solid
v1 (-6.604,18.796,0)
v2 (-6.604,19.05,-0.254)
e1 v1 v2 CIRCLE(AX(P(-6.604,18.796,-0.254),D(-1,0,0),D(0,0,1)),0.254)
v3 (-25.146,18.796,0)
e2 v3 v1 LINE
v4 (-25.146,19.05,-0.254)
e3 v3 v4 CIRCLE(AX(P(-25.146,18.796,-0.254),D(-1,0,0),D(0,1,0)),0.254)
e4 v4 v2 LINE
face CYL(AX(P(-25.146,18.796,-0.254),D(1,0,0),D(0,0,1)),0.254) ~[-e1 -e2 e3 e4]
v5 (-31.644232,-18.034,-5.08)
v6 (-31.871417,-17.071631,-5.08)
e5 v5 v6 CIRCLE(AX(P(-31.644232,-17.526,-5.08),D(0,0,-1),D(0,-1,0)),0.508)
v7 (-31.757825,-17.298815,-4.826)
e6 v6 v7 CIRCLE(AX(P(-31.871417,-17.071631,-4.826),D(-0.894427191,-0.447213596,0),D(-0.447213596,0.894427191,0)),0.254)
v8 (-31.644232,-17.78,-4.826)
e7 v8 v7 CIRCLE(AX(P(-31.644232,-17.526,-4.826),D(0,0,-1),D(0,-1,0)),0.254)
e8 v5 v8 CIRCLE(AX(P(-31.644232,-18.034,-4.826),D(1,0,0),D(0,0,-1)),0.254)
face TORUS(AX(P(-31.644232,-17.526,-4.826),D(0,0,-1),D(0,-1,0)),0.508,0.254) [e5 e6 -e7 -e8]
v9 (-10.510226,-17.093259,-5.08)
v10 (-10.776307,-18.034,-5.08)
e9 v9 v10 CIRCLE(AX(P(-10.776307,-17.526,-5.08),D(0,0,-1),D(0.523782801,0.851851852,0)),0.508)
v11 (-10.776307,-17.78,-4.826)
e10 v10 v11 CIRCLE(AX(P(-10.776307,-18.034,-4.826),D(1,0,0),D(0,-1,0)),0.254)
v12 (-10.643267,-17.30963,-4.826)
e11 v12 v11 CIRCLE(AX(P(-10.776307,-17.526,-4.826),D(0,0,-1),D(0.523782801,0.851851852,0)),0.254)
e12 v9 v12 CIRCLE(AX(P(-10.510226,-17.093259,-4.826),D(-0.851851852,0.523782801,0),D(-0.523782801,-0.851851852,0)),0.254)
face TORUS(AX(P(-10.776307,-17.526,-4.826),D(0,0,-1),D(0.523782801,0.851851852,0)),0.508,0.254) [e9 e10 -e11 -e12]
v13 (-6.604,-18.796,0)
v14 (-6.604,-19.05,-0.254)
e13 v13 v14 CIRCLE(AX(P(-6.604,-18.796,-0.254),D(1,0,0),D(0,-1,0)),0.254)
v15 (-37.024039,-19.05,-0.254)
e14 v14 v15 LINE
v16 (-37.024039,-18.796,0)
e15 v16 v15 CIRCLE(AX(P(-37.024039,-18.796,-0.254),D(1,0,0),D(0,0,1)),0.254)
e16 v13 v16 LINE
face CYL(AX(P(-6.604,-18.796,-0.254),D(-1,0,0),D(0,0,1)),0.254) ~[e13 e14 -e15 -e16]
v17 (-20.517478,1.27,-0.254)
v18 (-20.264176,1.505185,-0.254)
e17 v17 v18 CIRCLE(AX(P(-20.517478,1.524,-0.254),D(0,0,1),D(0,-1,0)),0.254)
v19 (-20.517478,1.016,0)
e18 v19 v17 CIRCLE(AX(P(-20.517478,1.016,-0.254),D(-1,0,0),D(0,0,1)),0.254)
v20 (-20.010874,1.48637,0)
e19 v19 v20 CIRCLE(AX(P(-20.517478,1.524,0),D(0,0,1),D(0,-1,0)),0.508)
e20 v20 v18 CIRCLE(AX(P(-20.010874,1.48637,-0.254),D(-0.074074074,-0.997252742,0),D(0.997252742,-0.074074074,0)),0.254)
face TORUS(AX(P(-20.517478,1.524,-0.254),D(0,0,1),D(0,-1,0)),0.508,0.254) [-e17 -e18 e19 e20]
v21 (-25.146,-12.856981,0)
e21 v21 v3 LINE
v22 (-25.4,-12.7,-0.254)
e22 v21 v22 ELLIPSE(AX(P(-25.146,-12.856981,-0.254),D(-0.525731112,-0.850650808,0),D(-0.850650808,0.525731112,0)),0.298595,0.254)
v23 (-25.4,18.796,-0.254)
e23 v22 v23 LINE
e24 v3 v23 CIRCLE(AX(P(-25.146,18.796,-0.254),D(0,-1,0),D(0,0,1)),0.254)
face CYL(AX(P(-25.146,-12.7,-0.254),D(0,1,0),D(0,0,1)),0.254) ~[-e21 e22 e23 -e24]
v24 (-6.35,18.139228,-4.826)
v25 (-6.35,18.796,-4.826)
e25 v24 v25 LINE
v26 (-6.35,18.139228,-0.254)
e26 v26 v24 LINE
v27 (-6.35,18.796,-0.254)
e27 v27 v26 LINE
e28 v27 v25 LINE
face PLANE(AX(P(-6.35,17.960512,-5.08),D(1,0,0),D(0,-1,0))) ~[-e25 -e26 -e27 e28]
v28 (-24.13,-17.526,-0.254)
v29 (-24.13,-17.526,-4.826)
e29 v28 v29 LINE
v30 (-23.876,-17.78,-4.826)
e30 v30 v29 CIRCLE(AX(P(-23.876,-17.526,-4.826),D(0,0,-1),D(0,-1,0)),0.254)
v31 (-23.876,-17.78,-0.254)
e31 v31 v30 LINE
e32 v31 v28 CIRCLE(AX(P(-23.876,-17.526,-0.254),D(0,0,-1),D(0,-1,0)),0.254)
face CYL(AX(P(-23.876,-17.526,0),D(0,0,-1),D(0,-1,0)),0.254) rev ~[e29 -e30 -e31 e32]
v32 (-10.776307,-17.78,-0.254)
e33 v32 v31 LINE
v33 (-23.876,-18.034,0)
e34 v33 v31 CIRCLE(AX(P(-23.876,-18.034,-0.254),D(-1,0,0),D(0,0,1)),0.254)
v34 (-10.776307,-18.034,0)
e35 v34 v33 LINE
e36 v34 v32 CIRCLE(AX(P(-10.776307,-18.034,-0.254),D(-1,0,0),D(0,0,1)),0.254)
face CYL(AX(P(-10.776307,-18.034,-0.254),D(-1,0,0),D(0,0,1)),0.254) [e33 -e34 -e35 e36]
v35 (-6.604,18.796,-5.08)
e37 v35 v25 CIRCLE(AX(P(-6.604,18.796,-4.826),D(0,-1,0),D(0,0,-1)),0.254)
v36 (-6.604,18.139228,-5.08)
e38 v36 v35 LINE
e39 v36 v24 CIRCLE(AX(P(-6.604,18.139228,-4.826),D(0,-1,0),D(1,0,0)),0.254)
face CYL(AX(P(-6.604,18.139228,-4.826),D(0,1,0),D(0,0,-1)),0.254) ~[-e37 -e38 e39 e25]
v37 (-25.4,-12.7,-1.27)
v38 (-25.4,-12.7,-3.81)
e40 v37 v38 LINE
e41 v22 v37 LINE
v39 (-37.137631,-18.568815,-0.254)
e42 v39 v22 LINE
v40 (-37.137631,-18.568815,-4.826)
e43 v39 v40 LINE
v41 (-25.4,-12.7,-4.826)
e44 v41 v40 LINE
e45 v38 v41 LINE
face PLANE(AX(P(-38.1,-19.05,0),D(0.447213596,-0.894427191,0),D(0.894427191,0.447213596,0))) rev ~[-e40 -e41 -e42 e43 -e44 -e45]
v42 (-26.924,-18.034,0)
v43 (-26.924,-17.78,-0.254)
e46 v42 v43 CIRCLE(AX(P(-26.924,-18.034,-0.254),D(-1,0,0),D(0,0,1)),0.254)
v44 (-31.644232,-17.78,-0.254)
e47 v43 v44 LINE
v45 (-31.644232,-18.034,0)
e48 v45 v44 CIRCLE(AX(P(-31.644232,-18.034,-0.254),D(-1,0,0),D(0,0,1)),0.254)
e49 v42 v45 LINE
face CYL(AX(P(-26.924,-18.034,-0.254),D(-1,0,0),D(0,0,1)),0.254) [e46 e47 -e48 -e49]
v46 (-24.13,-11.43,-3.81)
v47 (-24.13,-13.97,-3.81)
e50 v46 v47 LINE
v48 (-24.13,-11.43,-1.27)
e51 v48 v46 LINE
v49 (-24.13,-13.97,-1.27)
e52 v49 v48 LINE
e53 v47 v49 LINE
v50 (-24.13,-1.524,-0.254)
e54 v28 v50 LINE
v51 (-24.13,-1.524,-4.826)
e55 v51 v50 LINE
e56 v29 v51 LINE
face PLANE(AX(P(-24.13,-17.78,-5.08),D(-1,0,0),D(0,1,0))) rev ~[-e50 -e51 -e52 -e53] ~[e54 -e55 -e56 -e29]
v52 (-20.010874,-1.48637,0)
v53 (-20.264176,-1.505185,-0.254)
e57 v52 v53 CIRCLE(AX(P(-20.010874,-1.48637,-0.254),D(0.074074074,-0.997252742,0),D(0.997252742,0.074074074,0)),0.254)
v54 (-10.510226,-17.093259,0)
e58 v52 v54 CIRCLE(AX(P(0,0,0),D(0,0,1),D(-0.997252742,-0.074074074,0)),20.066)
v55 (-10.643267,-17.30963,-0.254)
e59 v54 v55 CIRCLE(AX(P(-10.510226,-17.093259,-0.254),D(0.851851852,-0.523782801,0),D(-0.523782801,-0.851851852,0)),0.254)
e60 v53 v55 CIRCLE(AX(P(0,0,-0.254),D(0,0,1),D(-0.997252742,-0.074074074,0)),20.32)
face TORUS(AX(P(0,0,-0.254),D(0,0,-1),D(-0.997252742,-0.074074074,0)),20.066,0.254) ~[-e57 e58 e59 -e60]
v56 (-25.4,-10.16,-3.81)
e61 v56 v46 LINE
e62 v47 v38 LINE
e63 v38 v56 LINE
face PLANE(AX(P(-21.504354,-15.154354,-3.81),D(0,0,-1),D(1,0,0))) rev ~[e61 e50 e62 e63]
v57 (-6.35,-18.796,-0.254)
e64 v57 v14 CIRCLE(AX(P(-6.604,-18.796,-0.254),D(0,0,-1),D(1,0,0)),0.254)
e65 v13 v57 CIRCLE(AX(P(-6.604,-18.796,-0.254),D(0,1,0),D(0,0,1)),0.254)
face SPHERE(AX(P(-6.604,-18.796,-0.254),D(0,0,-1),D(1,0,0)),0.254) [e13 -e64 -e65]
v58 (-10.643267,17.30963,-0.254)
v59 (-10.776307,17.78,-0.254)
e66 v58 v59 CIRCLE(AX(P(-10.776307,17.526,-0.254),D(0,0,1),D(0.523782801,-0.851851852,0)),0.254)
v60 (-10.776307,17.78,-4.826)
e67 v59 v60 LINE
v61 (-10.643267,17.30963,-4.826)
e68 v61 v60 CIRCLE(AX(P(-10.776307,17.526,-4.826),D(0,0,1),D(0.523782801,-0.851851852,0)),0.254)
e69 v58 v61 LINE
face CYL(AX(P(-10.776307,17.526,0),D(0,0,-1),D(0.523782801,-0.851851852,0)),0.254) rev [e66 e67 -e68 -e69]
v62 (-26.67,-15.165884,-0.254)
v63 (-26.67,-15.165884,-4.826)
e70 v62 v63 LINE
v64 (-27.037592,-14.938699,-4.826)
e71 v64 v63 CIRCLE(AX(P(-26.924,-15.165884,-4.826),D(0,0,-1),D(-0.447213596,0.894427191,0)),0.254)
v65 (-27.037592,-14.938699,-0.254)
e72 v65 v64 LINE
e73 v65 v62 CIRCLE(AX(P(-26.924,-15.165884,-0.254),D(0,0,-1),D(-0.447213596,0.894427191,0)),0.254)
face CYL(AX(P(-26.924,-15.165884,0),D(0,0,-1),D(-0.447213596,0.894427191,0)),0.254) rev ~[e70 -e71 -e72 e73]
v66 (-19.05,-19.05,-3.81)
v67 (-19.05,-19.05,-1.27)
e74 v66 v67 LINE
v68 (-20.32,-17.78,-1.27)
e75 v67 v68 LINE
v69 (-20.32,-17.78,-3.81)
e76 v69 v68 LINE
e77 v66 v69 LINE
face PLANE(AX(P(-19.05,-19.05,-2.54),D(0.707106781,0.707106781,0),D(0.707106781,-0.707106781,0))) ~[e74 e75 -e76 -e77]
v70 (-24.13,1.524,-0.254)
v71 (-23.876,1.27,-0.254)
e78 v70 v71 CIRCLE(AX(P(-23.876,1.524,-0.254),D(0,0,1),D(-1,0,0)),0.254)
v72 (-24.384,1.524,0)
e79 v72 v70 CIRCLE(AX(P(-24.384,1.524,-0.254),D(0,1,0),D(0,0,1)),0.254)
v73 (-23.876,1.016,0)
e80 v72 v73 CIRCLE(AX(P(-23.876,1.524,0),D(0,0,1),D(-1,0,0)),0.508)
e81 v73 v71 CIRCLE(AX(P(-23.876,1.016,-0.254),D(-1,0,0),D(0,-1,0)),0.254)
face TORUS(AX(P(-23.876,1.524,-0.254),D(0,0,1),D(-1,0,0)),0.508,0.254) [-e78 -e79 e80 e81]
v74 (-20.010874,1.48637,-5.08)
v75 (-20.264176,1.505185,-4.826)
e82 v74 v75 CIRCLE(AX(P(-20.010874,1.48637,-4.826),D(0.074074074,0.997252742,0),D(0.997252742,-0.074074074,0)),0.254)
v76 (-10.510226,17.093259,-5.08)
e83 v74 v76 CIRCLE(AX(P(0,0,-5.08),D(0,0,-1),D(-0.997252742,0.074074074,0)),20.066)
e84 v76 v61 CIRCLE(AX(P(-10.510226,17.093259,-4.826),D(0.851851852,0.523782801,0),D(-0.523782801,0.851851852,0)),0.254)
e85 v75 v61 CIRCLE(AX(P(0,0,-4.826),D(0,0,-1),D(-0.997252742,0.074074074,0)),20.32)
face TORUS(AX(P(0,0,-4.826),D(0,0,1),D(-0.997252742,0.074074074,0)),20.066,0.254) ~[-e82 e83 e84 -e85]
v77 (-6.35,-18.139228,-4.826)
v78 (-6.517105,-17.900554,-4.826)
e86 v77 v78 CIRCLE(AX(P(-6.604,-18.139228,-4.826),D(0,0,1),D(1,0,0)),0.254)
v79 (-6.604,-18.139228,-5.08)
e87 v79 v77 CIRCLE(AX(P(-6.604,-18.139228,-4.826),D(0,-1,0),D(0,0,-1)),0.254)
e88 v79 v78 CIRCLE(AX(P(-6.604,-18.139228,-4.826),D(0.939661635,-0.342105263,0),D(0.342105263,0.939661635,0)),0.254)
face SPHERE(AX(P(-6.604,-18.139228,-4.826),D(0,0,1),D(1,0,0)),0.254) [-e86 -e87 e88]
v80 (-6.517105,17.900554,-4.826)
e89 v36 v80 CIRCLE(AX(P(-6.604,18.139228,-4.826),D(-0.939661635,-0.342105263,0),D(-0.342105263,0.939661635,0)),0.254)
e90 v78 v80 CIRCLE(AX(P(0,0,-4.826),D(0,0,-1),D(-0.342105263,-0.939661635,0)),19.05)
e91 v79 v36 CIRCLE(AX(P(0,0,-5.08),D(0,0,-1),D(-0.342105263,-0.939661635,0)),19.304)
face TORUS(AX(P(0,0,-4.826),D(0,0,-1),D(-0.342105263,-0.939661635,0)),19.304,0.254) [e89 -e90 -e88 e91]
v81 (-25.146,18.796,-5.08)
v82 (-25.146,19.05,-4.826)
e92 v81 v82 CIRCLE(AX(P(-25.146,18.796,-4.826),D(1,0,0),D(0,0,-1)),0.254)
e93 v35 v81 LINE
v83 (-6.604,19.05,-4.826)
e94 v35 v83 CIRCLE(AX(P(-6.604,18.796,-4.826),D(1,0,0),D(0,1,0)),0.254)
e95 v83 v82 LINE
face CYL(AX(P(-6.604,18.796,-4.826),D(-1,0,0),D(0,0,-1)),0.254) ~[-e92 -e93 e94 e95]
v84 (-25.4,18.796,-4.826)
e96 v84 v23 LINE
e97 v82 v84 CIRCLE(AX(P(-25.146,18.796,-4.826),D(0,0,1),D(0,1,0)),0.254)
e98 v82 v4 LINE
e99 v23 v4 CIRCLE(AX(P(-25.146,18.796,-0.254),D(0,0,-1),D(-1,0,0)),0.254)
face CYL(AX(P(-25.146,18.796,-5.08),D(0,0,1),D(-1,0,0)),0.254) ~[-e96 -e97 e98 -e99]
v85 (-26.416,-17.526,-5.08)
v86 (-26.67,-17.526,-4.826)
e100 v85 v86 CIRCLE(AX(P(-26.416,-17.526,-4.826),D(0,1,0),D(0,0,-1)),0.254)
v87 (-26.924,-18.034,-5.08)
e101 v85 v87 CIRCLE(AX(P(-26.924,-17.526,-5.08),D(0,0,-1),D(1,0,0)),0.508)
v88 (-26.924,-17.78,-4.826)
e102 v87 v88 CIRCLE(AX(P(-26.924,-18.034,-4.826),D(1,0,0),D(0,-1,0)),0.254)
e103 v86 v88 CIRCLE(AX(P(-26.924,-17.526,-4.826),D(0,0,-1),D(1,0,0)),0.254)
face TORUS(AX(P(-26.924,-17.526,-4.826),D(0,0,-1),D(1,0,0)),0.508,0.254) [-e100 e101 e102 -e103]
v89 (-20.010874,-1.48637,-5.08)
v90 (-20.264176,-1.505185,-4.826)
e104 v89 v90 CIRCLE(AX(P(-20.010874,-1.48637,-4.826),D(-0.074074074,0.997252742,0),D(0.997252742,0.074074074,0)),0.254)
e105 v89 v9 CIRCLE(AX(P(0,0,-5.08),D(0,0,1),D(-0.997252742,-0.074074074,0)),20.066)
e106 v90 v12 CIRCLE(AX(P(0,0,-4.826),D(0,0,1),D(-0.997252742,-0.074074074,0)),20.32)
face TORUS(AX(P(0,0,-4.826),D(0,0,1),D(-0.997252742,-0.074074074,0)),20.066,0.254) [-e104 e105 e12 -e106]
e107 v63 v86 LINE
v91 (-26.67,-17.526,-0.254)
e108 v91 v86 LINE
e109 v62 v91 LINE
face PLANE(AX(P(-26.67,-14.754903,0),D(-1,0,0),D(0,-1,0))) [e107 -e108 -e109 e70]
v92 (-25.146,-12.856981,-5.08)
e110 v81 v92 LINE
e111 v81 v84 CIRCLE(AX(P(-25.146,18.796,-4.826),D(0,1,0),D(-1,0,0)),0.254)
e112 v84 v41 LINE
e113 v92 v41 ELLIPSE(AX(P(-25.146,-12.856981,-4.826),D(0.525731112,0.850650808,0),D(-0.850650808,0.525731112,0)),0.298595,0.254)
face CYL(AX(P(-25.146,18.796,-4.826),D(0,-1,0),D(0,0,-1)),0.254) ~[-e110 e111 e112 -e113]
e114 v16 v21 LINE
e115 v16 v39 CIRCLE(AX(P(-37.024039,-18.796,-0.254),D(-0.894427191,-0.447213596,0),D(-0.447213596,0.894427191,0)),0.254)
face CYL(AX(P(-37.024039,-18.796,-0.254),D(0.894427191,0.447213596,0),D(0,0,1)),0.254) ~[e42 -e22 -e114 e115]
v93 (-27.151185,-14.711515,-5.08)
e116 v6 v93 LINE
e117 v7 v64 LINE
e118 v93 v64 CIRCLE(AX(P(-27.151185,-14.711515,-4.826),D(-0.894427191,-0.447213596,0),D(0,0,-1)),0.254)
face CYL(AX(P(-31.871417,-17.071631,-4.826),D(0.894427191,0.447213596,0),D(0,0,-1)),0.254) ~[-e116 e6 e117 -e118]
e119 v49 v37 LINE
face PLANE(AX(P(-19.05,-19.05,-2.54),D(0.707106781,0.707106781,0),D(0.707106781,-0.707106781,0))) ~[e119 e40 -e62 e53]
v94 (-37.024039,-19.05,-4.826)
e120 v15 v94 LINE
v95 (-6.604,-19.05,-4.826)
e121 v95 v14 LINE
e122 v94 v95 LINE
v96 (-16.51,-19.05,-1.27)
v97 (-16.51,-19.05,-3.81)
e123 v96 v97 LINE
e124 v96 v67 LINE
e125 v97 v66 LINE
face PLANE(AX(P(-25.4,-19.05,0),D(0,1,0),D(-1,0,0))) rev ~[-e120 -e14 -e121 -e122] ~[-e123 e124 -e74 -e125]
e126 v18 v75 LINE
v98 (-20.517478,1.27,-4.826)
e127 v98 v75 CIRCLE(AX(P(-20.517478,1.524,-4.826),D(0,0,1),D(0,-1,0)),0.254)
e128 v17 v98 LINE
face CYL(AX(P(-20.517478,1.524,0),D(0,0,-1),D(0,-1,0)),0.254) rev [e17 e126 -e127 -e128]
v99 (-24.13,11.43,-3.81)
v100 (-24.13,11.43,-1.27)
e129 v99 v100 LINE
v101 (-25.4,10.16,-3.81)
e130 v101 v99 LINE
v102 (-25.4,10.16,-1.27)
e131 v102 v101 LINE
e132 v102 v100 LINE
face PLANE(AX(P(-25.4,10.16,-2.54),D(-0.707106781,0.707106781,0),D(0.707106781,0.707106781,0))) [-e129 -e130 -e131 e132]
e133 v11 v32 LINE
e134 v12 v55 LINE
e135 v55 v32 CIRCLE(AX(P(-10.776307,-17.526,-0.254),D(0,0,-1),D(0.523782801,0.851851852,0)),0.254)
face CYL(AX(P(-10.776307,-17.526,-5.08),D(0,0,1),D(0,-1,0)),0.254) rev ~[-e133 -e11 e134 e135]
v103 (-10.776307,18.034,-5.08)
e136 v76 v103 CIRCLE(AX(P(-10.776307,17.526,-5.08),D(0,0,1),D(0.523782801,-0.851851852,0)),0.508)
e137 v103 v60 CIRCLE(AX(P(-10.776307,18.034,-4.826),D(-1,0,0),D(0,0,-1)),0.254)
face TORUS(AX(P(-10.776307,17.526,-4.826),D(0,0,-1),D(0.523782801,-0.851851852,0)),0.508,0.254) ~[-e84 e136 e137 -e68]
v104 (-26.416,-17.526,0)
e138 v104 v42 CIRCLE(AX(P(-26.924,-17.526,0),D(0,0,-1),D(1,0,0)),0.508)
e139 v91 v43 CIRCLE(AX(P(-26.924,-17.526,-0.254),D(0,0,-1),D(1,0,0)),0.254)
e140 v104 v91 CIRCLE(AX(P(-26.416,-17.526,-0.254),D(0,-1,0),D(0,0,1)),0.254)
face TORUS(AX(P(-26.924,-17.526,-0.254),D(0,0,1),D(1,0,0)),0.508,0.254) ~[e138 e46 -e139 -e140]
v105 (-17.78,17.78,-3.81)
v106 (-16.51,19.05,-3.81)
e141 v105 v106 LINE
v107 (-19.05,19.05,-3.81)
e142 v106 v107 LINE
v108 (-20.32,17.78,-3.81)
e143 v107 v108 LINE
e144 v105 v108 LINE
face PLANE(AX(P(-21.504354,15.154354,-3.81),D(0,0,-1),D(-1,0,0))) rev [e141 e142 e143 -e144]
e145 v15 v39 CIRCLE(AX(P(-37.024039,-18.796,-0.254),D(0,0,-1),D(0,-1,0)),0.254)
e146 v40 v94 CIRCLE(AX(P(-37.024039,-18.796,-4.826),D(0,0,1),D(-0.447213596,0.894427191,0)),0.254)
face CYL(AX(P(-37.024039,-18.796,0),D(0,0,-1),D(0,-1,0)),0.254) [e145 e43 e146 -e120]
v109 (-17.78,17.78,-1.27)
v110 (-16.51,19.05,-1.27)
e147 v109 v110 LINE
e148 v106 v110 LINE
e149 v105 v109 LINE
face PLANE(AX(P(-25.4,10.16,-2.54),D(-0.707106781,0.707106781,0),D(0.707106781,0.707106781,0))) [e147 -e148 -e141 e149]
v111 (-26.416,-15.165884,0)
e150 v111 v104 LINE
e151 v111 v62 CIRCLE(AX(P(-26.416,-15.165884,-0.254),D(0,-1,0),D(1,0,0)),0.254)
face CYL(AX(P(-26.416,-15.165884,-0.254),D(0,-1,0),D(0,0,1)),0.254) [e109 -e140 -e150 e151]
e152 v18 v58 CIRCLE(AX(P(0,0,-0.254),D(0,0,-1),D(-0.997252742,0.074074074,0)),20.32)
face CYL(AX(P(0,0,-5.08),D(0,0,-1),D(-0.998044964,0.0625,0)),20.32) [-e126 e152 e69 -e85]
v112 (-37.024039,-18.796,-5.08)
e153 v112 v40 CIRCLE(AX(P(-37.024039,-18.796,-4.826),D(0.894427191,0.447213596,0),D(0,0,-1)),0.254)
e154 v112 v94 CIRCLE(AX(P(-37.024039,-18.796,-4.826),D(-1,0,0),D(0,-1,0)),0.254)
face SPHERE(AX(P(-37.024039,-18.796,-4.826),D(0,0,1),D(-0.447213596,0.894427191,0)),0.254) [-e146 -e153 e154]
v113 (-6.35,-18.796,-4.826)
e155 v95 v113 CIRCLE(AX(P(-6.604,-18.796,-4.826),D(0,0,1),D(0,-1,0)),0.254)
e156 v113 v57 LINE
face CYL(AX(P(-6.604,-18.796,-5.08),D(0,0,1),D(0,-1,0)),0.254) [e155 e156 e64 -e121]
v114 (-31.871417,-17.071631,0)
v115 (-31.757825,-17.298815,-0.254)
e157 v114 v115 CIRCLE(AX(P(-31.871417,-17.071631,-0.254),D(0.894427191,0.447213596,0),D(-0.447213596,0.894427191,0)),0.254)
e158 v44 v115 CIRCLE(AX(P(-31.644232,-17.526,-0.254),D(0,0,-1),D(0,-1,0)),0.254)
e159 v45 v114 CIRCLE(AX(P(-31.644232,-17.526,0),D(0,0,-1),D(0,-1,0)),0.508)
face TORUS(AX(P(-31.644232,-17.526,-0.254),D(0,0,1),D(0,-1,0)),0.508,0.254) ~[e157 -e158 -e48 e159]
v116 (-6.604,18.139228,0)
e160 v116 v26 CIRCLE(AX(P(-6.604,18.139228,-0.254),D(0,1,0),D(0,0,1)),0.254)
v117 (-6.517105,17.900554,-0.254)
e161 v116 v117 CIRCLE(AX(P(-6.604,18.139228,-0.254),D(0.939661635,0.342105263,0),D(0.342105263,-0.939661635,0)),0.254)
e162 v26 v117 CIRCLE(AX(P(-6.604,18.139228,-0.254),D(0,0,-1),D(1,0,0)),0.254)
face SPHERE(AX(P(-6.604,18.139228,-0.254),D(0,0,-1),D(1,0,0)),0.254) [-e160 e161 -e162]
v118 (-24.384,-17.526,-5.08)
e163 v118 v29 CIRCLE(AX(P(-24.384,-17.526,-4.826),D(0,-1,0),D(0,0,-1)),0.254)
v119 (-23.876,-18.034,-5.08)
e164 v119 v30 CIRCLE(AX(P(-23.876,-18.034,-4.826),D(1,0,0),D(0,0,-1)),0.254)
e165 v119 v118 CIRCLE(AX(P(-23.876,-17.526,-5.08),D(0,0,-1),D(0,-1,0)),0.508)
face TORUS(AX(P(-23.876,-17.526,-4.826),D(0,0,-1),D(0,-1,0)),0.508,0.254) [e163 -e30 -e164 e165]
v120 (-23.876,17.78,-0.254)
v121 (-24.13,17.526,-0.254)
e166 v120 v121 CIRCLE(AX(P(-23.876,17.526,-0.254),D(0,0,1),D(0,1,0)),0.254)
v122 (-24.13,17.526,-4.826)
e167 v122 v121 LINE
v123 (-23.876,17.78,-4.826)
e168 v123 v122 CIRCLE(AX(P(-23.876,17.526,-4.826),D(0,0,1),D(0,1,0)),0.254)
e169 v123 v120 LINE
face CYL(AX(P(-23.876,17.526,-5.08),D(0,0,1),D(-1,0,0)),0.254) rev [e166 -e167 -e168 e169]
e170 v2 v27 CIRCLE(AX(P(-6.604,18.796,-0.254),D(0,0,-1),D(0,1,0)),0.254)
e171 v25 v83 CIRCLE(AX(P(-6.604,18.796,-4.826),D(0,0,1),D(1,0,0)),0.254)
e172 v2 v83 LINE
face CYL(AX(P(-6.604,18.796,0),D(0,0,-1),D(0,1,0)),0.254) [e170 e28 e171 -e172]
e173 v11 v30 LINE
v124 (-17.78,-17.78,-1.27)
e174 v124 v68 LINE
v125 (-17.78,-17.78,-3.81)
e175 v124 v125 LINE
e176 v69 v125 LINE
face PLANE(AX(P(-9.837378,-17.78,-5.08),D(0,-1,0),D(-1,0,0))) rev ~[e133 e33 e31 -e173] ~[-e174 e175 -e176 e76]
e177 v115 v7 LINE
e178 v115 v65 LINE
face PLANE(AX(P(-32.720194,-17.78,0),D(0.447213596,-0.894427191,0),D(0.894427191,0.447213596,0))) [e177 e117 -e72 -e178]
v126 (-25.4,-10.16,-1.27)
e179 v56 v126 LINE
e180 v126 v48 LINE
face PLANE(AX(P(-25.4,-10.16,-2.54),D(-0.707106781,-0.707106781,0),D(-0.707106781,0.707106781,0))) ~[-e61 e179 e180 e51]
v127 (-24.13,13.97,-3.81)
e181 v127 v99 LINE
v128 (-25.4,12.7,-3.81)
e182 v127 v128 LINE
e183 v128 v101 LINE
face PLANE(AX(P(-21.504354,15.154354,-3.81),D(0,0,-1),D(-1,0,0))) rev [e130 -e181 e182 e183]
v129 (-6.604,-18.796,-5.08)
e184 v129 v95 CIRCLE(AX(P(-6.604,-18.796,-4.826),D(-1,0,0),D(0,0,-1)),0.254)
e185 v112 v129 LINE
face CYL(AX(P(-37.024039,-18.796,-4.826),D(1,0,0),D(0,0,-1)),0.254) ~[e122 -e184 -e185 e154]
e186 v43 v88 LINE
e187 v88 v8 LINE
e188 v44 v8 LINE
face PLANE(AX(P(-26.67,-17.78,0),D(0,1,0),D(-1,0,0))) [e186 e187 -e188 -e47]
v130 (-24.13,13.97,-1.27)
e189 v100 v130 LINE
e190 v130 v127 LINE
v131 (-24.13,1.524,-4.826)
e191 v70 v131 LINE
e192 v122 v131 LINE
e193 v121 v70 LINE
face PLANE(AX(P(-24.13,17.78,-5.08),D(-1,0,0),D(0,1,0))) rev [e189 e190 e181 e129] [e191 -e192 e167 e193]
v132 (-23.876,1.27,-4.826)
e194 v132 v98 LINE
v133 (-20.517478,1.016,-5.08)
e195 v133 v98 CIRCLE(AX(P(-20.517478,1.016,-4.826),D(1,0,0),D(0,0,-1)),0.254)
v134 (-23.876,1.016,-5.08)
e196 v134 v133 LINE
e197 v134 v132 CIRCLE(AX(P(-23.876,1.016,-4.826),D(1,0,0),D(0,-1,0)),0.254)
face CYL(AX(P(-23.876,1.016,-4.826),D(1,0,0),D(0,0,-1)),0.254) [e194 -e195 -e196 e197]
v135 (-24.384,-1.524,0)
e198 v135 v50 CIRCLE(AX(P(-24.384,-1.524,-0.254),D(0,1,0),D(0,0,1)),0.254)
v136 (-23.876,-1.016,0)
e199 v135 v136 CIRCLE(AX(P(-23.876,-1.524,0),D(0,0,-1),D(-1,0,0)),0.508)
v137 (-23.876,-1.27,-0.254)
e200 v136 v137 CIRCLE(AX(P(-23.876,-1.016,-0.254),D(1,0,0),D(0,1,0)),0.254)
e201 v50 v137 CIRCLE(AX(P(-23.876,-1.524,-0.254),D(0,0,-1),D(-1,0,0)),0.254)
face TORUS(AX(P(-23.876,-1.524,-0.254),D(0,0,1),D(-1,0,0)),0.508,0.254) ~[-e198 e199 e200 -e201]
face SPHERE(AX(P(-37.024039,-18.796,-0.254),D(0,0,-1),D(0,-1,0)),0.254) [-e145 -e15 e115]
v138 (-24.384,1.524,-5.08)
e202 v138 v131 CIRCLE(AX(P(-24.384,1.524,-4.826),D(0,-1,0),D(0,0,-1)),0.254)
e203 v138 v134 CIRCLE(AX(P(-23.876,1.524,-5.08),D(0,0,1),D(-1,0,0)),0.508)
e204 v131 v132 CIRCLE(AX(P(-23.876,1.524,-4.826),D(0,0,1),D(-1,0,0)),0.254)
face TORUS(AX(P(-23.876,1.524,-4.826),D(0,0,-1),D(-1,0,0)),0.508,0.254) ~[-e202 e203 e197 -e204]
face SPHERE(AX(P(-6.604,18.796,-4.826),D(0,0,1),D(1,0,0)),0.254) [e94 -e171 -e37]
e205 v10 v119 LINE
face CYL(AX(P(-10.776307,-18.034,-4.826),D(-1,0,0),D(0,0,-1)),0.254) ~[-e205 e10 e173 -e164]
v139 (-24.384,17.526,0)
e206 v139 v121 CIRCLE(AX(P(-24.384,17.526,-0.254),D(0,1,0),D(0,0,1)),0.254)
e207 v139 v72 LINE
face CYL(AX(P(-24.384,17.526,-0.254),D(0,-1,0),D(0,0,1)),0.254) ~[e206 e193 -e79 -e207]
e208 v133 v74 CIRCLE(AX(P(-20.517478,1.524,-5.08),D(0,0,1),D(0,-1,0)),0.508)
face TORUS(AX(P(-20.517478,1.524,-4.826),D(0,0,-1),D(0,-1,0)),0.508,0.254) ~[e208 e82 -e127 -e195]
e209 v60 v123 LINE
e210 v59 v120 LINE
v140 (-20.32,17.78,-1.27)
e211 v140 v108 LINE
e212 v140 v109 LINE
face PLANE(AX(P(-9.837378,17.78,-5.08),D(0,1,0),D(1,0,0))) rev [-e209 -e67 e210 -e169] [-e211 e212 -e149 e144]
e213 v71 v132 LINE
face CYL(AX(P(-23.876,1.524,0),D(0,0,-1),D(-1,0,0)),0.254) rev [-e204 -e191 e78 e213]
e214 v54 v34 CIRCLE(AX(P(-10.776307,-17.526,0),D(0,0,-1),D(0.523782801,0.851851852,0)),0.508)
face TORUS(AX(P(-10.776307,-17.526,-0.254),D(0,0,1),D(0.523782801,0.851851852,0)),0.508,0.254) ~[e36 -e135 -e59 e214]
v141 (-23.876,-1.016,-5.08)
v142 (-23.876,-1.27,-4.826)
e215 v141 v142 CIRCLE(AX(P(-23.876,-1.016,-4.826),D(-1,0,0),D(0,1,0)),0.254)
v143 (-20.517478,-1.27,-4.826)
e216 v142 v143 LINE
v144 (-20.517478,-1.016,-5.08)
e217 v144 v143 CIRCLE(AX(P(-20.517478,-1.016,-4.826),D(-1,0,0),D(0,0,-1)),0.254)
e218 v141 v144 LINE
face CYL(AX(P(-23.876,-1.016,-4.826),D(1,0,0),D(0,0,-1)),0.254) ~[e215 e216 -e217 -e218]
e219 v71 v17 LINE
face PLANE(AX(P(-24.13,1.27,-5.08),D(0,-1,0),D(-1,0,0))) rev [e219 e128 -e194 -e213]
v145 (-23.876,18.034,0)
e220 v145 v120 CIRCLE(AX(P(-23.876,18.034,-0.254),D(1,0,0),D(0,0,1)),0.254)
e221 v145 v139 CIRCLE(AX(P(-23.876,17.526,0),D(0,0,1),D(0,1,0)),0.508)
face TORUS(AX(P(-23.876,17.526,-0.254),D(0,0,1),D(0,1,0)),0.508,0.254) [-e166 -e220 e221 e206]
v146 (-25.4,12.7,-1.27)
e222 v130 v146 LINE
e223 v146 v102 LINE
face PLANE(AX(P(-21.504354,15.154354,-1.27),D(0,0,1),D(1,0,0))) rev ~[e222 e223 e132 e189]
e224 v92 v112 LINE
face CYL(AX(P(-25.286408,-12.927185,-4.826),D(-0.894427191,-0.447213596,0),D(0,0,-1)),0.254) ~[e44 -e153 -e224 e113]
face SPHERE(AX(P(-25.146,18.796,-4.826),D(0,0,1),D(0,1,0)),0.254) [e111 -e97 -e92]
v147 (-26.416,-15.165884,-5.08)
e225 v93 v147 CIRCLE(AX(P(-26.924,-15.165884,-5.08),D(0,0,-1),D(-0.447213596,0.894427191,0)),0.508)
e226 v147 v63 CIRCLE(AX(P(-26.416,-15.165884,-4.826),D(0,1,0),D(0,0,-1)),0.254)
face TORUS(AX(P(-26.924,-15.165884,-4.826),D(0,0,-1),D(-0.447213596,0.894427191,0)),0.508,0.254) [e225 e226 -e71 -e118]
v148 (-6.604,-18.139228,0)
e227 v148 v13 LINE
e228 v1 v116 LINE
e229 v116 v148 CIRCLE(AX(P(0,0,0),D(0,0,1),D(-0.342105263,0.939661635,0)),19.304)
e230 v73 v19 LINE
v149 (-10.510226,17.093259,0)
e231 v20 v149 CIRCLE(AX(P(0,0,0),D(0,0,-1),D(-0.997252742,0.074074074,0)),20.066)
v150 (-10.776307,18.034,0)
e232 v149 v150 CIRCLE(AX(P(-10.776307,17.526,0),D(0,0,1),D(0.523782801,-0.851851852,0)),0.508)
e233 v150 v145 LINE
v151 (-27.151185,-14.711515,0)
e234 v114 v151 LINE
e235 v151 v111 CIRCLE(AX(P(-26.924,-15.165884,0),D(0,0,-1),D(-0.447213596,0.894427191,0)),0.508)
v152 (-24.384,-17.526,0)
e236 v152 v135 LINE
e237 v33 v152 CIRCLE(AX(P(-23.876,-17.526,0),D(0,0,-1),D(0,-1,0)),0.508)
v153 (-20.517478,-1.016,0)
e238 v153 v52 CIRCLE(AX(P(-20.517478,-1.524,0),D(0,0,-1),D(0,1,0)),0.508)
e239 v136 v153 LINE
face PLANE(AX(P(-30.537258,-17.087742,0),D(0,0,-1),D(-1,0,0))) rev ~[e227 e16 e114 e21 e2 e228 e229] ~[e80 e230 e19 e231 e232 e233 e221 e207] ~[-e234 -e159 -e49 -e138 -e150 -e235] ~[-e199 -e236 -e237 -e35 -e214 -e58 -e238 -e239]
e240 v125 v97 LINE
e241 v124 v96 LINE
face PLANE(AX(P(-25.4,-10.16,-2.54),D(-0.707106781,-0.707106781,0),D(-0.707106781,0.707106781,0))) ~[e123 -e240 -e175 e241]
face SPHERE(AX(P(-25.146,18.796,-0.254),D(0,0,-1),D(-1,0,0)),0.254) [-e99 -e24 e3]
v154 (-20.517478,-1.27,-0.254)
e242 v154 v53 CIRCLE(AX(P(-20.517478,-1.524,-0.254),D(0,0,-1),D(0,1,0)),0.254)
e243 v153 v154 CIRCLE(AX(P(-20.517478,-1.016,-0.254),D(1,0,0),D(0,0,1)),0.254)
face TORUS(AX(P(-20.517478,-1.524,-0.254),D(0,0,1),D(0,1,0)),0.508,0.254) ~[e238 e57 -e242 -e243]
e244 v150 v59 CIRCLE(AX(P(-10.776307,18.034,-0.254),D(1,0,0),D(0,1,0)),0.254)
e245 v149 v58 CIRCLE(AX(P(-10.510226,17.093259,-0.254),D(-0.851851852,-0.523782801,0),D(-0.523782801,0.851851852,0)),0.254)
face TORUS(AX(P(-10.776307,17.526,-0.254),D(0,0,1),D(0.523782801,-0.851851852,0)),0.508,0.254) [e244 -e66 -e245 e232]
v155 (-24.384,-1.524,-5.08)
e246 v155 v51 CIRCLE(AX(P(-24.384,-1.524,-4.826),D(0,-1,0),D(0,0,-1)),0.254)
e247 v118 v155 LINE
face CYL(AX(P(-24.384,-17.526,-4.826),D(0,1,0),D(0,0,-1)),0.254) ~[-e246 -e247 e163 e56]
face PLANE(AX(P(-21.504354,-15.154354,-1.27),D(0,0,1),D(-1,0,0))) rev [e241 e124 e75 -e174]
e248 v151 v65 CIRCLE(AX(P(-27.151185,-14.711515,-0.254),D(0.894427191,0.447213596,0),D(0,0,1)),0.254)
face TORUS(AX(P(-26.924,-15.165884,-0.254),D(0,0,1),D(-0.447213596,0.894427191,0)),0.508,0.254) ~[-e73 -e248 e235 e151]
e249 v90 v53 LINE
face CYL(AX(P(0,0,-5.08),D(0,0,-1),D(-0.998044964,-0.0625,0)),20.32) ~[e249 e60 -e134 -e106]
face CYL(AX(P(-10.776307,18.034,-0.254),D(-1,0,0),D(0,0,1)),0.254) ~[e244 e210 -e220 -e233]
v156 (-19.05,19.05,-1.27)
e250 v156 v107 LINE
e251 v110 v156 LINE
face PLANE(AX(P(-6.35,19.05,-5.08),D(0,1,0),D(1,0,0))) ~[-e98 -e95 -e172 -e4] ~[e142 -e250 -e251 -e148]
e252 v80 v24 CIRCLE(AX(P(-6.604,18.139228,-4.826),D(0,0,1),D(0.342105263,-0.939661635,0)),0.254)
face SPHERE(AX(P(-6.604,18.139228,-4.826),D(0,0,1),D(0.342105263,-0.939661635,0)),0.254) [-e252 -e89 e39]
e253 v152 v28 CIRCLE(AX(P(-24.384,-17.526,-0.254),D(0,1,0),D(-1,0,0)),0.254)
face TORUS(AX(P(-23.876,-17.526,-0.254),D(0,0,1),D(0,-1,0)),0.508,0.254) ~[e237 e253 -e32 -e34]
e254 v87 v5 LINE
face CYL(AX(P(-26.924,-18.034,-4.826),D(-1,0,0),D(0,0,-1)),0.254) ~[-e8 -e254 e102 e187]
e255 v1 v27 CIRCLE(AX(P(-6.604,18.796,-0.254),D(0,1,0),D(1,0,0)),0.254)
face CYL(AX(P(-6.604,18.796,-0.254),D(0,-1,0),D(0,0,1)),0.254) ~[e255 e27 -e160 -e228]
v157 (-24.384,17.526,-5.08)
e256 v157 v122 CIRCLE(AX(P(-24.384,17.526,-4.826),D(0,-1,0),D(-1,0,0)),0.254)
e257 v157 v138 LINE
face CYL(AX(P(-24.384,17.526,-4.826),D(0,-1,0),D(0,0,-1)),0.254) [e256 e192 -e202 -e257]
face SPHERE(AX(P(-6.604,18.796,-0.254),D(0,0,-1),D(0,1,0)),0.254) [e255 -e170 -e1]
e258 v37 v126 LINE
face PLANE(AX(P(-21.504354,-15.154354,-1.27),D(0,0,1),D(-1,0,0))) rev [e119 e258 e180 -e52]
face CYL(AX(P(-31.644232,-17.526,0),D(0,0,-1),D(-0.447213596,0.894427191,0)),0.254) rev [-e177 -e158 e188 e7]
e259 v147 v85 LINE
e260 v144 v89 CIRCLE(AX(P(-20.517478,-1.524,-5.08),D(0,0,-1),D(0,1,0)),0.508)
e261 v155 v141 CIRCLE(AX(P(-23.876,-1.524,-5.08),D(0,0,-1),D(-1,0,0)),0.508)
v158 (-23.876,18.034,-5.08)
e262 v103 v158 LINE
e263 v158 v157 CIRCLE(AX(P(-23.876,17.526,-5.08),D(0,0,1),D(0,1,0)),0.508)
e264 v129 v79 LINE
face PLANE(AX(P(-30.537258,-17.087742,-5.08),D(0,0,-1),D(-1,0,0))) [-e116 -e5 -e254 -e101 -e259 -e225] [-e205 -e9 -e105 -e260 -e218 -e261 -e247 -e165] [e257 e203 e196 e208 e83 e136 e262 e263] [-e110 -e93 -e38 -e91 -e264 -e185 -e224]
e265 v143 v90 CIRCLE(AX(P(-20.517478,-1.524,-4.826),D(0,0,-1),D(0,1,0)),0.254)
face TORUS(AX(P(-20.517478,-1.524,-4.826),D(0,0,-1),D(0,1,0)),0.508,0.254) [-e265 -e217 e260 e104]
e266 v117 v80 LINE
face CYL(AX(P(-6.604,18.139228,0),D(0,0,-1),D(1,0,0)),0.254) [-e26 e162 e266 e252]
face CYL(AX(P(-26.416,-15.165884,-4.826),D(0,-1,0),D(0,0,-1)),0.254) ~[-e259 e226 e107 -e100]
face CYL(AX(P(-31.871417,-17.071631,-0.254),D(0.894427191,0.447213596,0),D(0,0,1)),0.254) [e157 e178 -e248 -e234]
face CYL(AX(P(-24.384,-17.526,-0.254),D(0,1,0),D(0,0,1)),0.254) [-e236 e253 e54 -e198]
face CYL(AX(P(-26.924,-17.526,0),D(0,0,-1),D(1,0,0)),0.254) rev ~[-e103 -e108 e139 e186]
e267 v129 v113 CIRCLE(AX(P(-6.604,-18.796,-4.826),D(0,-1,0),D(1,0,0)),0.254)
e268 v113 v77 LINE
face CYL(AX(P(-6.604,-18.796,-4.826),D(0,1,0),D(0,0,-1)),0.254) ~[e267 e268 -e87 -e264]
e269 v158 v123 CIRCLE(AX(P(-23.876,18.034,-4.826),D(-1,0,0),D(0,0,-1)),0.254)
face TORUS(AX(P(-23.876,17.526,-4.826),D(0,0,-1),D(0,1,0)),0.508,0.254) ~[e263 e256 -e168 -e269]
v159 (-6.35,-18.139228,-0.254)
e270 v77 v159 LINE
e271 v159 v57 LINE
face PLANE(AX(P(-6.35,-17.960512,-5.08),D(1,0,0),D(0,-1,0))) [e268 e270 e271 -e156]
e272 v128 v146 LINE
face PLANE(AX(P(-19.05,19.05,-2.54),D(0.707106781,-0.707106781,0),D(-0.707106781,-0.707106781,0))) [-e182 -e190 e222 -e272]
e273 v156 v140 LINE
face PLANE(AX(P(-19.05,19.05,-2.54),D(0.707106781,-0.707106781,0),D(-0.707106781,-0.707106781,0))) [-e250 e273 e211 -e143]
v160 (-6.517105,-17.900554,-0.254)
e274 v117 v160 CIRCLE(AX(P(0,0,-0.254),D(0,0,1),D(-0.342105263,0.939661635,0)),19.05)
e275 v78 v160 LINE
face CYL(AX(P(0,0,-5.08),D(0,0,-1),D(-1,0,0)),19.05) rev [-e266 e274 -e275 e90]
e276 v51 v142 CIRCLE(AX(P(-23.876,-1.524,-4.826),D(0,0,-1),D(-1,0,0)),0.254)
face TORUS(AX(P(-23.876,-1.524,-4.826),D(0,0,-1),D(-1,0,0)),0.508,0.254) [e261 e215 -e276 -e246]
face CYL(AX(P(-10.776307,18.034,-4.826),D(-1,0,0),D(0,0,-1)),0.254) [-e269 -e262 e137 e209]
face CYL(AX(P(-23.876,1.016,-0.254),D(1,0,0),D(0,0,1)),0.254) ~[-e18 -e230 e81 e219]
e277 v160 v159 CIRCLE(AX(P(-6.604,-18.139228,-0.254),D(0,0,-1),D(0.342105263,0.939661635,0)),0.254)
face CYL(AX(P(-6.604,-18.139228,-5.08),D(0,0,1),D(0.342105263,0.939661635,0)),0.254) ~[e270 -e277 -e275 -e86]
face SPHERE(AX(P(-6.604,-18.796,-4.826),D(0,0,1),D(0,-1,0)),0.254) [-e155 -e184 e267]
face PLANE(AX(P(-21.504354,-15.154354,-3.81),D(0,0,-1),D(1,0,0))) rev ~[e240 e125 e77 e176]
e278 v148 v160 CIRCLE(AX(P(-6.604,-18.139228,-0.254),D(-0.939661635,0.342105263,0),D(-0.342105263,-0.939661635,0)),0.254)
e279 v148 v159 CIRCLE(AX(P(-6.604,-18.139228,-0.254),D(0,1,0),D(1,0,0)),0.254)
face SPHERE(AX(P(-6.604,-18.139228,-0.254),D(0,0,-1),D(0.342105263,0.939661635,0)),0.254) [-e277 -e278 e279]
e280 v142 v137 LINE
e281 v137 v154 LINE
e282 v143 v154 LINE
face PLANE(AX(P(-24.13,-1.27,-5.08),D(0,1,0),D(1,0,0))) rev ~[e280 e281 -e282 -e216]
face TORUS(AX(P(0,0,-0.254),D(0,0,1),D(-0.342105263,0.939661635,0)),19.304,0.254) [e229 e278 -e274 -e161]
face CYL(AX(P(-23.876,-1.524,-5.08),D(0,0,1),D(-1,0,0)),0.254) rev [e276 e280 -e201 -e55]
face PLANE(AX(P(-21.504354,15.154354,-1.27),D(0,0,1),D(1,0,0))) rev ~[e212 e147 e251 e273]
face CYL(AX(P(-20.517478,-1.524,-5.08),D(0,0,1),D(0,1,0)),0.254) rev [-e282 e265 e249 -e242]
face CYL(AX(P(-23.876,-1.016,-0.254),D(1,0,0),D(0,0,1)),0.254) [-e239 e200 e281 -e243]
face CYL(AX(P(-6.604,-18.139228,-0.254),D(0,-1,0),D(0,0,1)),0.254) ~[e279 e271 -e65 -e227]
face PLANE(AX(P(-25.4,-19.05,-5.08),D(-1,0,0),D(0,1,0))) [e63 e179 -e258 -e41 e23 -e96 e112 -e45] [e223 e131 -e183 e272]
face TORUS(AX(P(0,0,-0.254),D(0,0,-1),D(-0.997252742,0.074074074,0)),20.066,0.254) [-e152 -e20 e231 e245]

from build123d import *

# Parameters (mm, degrees)
BOSS_EXTRUDE1_DEPTH  = 2.54
CUT_EXTRUDE2_DEPTH   = 1.27
MIRROR3_COPY_1_DEPTH = 2.54
MIRROR3_COPY_2_DEPTH = 1.27
BOSS_EXTRUDE2_START  = -5.08
BOSS_EXTRUDE2_DEPTH  = 5.08
FILLET1_R            = 0.254
FILLET2_R            = 0.254


with BuildPart() as part:
    # Sketch1 → Boss-Extrude1 (new body)
    with BuildSketch(Plane.XY):
        with BuildLine():
            Line((-6.35, 19.050000000000004), (-25.4, 19.05))
            Line((-25.4, 19.05), (-25.399999999999995, 0))
            Line((-25.399999999999995, 0), (-19.049999999999997, 0))
            ThreePointArc((-19.049999999999997, 0), (-15.554259866673185, 10.998522628062371), (-6.35, 17.960512242138304))
            Line((-6.35, 17.960512242138304), (-6.35, 19.050000000000004))
        make_face()
        with BuildLine():
            Line((-24.129999999999995, 17.78), (-24.129999999999992, 1.27))
            Line((-24.129999999999992, 1.27), (-20.280273666792567, 1.27))
            ThreePointArc((-20.280273666792567, 1.27), (-17.173038634830498, 10.862280793950196), (-9.837377699366836, 17.780000000000005))
            Line((-9.837377699366836, 17.780000000000005), (-24.129999999999995, 17.78))
        make_face(mode=Mode.SUBTRACT)
    boss_extrude1 = extrude(amount=-BOSS_EXTRUDE1_DEPTH)

    # Mirror1: Boss-Extrude1 across plane
    add(boss_extrude1.mirror(Plane.ZX))

    # Sketch2 → Cut-Extrude2 (cut)
    with BuildSketch(Plane(origin=(0, 0, -2.54), x_dir=(-1, 0, 0), z_dir=(0, 0, -1))):
        Polygon((25.400000000000002, 10.159999999999998), (16.50999999999999, 19.050000000000004), (19.049999999999994, 19.050000000000004), (25.4, 12.700000000000001), align=None)
    cut_extrude2 = extrude(amount=-CUT_EXTRUDE2_DEPTH, mode=Mode.SUBTRACT)

    # Mirror2: Cut-Extrude2 across plane
    add(cut_extrude2.mirror(Plane.ZX), mode=Mode.SUBTRACT)

    # Mirror3: Boss-Extrude1, Cut-Extrude2 across plane
    add(boss_extrude1.mirror(Plane(origin=(-2.602e-14, 1.735e-14, -2.54), x_dir=(1, 0, 0), z_dir=(0, 0, -1))))
    add(cut_extrude2.mirror(Plane(origin=(-2.602e-14, 1.735e-14, -2.54), x_dir=(1, 0, 0), z_dir=(0, 0, -1))), mode=Mode.SUBTRACT)

    # Mirror3 copy 1 sketch → Mirror3 copy 1 (add)
    with BuildSketch(Plane(origin=(0, 0, -5.08), x_dir=(1, 0, 0), z_dir=(0, 0, -1))):
        with BuildLine():
            Line((-6.35, 19.050000000000004), (-25.4, 19.05))
            Line((-25.4, 19.05), (-25.399999999999995, 0))
            Line((-25.399999999999995, 0), (-19.049999999999997, 0))
            ThreePointArc((-19.049999999999997, 0), (-15.554259866673185, 10.998522628062371), (-6.35, 17.960512242138304))
            Line((-6.35, 17.960512242138304), (-6.35, 19.050000000000004))
        make_face()
        with BuildLine():
            Line((-24.129999999999995, 17.78), (-24.129999999999992, 1.27))
            Line((-24.129999999999992, 1.27), (-20.280273666792567, 1.27))
            ThreePointArc((-20.280273666792567, 1.27), (-17.173038634830498, 10.862280793950196), (-9.837377699366836, 17.780000000000005))
            Line((-9.837377699366836, 17.780000000000005), (-24.129999999999995, 17.78))
        make_face(mode=Mode.SUBTRACT)
    extrude(amount=-MIRROR3_COPY_1_DEPTH)

    # Mirror3 copy 2 sketch → Mirror3 copy 2 (cut)
    with BuildSketch(Plane(origin=(0, 0, -2.54), x_dir=(-1, 0, 0), z_dir=(0, 0, 1))):
        Polygon((25.400000000000002, 10.159999999999998), (16.50999999999999, 19.050000000000004), (19.049999999999994, 19.050000000000004), (25.4, 12.700000000000001), align=None)
    extrude(amount=-MIRROR3_COPY_2_DEPTH, mode=Mode.SUBTRACT)

    # Sketch4 → Boss-Extrude2 (add)
    with BuildSketch(Plane(origin=(0, 0, -5.08), x_dir=(-1, 0, 0), z_dir=(0, 0, -1)).offset(BOSS_EXTRUDE2_START)):
        Polygon((25.4, -19.05), (38.099999999999994, -19.05), (25.4, -12.700000000000001), align=None)
        Polygon((26.669999999999998, -17.78), (32.72019366857526, -17.78), (26.669999999999998, -14.754903165712367), align=None, mode=Mode.SUBTRACT)
    extrude(amount=BOSS_EXTRUDE2_DEPTH)

    # Fillet1
    fillet1_edges = [part.edges().sort_by_distance(p)[0] for p in [
        (-24.129999999999995, 17.78, -2.54),
        (-9.837377699366836, 17.780000000000005, -2.54),
        (-20.280273666792567, 1.27, -2.54),
        (-24.129999999999992, 1.27, -2.54),
        (-38.099999999999994, -19.05, -2.54),
        (-26.669999999999998, -17.78, -2.54),
        (-32.72019366857526, -17.78, -2.54),
        (-26.669999999999998, -14.754903165712367, -2.54),
        (-6.35, -17.960512242138307, -2.54),
        (-6.35, -19.050000000000004, -2.54),
        (-24.129999999999995, -17.78, -2.54),
        (-24.129999999999992, -1.27, -2.54),
        (-20.280273666792567, -1.27, -2.54),
        (-9.837377699366836, -17.780000000000005, -2.54),
        (-6.35, 17.960512242138307, -2.54),
        (-25.4, 19.05, -2.54),
        (-6.35, 19.050000000000004, -2.54),
    ]]
    fillet(fillet1_edges, radius=FILLET1_R)

    # Fillet2
    fillet2_edges = [part.edges().sort_by_distance(p)[0] for p in [
        (-31.268815493486017, -15.634407746743012, 0),
        (-15.875, 19.05, -5.08),
        (-15.875, 19.05, 0),
        (-24.129999999999995, 9.525, 0),
        (-17.32615367264149, 17.78, 0),
        (-17.35691828606442, 10.565973102884694, 0),
        (-22.196738957591226, 1.27, 0),
        (-6.35, 18.46761410424942, 0),
        (-25.4, 3.0479999999999983, 0),
        (-21.814019366857522, -19.050000000000004, 0),
        (-6.35, -18.4676141042494, 0),
        (-19.049999999999997, 1.332e-14, 0),
        (-17.32615367264149, -17.78, 0),
        (-24.129999999999995, -9.525, 0),
        (-22.196738957591226, -1.27, 0),
        (-17.35691828606442, -10.565973102884694, 0),
        (-29.28411620114516, -17.78, 0),
        (-29.39770845440215, -16.118757392913444, 0),
        (-26.669999999999998, -16.345941899427423, 0),
        (-37.27124397703985, -18.854357241819027, 0),
        (-6.395928782435079, -17.993549217490983, 0),
        (-6.424394877578617, -18.97560512242139, 0),
        (-6.424394877578616, 18.975605122421385, 0),
        (-6.395928782435086, 17.993549217491022, 0),
        (-25.325605122421383, 18.97560512242138, 0),
        (-25.4, 3.0479999999999983, -5.08),
        (-6.35, 18.46761410424942, -5.08),
        (-19.049999999999997, -1.332e-14, -5.08),
        (-6.35, -18.4676141042494, -5.08),
        (-21.814019366857522, -19.050000000000004, -5.08),
        (-31.268815493486017, -15.634407746743012, -5.08),
        (-17.32615367264149, 17.78, -5.08),
        (-24.129999999999995, 9.525, -5.08),
        (-22.196738957591226, 1.27, -5.08),
        (-17.35691828606442, 10.565973102884694, -5.08),
        (-24.129999999999995, -9.525, -5.08),
        (-17.32615367264149, -17.78, -5.08),
        (-17.35691828606442, -10.565973102884694, -5.08),
        (-22.196738957591226, -1.27, -5.08),
        (-26.669999999999998, -16.345941899427423, -5.08),
        (-29.39770845440215, -16.118757392913444, -5.08),
        (-29.28411620114516, -17.78, -5.08),
        (-37.27124397703985, -18.854357241819027, -5.08),
        (-6.39592878243508, -17.99354921749098, -5.08),
        (-6.424394877578617, -18.97560512242139, -5.08),
        (-6.424394877578616, 18.975605122421385, -5.08),
        (-6.395928782435085, 17.993549217491022, -5.08),
        (-25.325605122421383, 18.97560512242138, -5.08),
        (-10.531895731326044, 17.595130043851885, 0),
        (-10.531895731326044, 17.595130043851885, -5.08),
        (-24.055605122421376, 17.70560512242138, 0),
        (-24.055605122421376, 17.70560512242138, -5.08),
        (-20.34465280555276, 1.3378616603665934, 0),
        (-20.34465280555276, 1.3378616603665934, -5.08),
        (-24.055605122421372, 1.344394877578617, 0),
        (-24.055605122421372, 1.344394877578617, -5.08),
        (-20.34465280555276, -1.3378616603665934, 0),
        (-20.34465280555276, -1.3378616603665934, -5.08),
        (-24.055605122421372, -1.3443948775786172, 0),
        (-24.055605122421372, -1.3443948775786172, -5.08),
        (-10.531895731326044, -17.595130043851885, 0),
        (-10.531895731326044, -17.595130043851885, -5.08),
        (-24.055605122421376, -17.705605122421385, 0),
        (-24.055605122421376, -17.705605122421385, -5.08),
        (-26.79046429752174, -14.949818493533423, -5.08),
        (-26.79046429752174, -14.949818493533423, 0),
        (-26.744394877578614, -17.70560512242138, -5.08),
        (-26.744394877578614, -17.70560512242138, 0),
        (-31.89143764561512, -17.58435724181903, -5.08),
        (-31.89143764561512, -17.58435724181903, 0),
    ]]
    fillet(fillet2_edges, radius=FILLET2_R)


solid = part.part
